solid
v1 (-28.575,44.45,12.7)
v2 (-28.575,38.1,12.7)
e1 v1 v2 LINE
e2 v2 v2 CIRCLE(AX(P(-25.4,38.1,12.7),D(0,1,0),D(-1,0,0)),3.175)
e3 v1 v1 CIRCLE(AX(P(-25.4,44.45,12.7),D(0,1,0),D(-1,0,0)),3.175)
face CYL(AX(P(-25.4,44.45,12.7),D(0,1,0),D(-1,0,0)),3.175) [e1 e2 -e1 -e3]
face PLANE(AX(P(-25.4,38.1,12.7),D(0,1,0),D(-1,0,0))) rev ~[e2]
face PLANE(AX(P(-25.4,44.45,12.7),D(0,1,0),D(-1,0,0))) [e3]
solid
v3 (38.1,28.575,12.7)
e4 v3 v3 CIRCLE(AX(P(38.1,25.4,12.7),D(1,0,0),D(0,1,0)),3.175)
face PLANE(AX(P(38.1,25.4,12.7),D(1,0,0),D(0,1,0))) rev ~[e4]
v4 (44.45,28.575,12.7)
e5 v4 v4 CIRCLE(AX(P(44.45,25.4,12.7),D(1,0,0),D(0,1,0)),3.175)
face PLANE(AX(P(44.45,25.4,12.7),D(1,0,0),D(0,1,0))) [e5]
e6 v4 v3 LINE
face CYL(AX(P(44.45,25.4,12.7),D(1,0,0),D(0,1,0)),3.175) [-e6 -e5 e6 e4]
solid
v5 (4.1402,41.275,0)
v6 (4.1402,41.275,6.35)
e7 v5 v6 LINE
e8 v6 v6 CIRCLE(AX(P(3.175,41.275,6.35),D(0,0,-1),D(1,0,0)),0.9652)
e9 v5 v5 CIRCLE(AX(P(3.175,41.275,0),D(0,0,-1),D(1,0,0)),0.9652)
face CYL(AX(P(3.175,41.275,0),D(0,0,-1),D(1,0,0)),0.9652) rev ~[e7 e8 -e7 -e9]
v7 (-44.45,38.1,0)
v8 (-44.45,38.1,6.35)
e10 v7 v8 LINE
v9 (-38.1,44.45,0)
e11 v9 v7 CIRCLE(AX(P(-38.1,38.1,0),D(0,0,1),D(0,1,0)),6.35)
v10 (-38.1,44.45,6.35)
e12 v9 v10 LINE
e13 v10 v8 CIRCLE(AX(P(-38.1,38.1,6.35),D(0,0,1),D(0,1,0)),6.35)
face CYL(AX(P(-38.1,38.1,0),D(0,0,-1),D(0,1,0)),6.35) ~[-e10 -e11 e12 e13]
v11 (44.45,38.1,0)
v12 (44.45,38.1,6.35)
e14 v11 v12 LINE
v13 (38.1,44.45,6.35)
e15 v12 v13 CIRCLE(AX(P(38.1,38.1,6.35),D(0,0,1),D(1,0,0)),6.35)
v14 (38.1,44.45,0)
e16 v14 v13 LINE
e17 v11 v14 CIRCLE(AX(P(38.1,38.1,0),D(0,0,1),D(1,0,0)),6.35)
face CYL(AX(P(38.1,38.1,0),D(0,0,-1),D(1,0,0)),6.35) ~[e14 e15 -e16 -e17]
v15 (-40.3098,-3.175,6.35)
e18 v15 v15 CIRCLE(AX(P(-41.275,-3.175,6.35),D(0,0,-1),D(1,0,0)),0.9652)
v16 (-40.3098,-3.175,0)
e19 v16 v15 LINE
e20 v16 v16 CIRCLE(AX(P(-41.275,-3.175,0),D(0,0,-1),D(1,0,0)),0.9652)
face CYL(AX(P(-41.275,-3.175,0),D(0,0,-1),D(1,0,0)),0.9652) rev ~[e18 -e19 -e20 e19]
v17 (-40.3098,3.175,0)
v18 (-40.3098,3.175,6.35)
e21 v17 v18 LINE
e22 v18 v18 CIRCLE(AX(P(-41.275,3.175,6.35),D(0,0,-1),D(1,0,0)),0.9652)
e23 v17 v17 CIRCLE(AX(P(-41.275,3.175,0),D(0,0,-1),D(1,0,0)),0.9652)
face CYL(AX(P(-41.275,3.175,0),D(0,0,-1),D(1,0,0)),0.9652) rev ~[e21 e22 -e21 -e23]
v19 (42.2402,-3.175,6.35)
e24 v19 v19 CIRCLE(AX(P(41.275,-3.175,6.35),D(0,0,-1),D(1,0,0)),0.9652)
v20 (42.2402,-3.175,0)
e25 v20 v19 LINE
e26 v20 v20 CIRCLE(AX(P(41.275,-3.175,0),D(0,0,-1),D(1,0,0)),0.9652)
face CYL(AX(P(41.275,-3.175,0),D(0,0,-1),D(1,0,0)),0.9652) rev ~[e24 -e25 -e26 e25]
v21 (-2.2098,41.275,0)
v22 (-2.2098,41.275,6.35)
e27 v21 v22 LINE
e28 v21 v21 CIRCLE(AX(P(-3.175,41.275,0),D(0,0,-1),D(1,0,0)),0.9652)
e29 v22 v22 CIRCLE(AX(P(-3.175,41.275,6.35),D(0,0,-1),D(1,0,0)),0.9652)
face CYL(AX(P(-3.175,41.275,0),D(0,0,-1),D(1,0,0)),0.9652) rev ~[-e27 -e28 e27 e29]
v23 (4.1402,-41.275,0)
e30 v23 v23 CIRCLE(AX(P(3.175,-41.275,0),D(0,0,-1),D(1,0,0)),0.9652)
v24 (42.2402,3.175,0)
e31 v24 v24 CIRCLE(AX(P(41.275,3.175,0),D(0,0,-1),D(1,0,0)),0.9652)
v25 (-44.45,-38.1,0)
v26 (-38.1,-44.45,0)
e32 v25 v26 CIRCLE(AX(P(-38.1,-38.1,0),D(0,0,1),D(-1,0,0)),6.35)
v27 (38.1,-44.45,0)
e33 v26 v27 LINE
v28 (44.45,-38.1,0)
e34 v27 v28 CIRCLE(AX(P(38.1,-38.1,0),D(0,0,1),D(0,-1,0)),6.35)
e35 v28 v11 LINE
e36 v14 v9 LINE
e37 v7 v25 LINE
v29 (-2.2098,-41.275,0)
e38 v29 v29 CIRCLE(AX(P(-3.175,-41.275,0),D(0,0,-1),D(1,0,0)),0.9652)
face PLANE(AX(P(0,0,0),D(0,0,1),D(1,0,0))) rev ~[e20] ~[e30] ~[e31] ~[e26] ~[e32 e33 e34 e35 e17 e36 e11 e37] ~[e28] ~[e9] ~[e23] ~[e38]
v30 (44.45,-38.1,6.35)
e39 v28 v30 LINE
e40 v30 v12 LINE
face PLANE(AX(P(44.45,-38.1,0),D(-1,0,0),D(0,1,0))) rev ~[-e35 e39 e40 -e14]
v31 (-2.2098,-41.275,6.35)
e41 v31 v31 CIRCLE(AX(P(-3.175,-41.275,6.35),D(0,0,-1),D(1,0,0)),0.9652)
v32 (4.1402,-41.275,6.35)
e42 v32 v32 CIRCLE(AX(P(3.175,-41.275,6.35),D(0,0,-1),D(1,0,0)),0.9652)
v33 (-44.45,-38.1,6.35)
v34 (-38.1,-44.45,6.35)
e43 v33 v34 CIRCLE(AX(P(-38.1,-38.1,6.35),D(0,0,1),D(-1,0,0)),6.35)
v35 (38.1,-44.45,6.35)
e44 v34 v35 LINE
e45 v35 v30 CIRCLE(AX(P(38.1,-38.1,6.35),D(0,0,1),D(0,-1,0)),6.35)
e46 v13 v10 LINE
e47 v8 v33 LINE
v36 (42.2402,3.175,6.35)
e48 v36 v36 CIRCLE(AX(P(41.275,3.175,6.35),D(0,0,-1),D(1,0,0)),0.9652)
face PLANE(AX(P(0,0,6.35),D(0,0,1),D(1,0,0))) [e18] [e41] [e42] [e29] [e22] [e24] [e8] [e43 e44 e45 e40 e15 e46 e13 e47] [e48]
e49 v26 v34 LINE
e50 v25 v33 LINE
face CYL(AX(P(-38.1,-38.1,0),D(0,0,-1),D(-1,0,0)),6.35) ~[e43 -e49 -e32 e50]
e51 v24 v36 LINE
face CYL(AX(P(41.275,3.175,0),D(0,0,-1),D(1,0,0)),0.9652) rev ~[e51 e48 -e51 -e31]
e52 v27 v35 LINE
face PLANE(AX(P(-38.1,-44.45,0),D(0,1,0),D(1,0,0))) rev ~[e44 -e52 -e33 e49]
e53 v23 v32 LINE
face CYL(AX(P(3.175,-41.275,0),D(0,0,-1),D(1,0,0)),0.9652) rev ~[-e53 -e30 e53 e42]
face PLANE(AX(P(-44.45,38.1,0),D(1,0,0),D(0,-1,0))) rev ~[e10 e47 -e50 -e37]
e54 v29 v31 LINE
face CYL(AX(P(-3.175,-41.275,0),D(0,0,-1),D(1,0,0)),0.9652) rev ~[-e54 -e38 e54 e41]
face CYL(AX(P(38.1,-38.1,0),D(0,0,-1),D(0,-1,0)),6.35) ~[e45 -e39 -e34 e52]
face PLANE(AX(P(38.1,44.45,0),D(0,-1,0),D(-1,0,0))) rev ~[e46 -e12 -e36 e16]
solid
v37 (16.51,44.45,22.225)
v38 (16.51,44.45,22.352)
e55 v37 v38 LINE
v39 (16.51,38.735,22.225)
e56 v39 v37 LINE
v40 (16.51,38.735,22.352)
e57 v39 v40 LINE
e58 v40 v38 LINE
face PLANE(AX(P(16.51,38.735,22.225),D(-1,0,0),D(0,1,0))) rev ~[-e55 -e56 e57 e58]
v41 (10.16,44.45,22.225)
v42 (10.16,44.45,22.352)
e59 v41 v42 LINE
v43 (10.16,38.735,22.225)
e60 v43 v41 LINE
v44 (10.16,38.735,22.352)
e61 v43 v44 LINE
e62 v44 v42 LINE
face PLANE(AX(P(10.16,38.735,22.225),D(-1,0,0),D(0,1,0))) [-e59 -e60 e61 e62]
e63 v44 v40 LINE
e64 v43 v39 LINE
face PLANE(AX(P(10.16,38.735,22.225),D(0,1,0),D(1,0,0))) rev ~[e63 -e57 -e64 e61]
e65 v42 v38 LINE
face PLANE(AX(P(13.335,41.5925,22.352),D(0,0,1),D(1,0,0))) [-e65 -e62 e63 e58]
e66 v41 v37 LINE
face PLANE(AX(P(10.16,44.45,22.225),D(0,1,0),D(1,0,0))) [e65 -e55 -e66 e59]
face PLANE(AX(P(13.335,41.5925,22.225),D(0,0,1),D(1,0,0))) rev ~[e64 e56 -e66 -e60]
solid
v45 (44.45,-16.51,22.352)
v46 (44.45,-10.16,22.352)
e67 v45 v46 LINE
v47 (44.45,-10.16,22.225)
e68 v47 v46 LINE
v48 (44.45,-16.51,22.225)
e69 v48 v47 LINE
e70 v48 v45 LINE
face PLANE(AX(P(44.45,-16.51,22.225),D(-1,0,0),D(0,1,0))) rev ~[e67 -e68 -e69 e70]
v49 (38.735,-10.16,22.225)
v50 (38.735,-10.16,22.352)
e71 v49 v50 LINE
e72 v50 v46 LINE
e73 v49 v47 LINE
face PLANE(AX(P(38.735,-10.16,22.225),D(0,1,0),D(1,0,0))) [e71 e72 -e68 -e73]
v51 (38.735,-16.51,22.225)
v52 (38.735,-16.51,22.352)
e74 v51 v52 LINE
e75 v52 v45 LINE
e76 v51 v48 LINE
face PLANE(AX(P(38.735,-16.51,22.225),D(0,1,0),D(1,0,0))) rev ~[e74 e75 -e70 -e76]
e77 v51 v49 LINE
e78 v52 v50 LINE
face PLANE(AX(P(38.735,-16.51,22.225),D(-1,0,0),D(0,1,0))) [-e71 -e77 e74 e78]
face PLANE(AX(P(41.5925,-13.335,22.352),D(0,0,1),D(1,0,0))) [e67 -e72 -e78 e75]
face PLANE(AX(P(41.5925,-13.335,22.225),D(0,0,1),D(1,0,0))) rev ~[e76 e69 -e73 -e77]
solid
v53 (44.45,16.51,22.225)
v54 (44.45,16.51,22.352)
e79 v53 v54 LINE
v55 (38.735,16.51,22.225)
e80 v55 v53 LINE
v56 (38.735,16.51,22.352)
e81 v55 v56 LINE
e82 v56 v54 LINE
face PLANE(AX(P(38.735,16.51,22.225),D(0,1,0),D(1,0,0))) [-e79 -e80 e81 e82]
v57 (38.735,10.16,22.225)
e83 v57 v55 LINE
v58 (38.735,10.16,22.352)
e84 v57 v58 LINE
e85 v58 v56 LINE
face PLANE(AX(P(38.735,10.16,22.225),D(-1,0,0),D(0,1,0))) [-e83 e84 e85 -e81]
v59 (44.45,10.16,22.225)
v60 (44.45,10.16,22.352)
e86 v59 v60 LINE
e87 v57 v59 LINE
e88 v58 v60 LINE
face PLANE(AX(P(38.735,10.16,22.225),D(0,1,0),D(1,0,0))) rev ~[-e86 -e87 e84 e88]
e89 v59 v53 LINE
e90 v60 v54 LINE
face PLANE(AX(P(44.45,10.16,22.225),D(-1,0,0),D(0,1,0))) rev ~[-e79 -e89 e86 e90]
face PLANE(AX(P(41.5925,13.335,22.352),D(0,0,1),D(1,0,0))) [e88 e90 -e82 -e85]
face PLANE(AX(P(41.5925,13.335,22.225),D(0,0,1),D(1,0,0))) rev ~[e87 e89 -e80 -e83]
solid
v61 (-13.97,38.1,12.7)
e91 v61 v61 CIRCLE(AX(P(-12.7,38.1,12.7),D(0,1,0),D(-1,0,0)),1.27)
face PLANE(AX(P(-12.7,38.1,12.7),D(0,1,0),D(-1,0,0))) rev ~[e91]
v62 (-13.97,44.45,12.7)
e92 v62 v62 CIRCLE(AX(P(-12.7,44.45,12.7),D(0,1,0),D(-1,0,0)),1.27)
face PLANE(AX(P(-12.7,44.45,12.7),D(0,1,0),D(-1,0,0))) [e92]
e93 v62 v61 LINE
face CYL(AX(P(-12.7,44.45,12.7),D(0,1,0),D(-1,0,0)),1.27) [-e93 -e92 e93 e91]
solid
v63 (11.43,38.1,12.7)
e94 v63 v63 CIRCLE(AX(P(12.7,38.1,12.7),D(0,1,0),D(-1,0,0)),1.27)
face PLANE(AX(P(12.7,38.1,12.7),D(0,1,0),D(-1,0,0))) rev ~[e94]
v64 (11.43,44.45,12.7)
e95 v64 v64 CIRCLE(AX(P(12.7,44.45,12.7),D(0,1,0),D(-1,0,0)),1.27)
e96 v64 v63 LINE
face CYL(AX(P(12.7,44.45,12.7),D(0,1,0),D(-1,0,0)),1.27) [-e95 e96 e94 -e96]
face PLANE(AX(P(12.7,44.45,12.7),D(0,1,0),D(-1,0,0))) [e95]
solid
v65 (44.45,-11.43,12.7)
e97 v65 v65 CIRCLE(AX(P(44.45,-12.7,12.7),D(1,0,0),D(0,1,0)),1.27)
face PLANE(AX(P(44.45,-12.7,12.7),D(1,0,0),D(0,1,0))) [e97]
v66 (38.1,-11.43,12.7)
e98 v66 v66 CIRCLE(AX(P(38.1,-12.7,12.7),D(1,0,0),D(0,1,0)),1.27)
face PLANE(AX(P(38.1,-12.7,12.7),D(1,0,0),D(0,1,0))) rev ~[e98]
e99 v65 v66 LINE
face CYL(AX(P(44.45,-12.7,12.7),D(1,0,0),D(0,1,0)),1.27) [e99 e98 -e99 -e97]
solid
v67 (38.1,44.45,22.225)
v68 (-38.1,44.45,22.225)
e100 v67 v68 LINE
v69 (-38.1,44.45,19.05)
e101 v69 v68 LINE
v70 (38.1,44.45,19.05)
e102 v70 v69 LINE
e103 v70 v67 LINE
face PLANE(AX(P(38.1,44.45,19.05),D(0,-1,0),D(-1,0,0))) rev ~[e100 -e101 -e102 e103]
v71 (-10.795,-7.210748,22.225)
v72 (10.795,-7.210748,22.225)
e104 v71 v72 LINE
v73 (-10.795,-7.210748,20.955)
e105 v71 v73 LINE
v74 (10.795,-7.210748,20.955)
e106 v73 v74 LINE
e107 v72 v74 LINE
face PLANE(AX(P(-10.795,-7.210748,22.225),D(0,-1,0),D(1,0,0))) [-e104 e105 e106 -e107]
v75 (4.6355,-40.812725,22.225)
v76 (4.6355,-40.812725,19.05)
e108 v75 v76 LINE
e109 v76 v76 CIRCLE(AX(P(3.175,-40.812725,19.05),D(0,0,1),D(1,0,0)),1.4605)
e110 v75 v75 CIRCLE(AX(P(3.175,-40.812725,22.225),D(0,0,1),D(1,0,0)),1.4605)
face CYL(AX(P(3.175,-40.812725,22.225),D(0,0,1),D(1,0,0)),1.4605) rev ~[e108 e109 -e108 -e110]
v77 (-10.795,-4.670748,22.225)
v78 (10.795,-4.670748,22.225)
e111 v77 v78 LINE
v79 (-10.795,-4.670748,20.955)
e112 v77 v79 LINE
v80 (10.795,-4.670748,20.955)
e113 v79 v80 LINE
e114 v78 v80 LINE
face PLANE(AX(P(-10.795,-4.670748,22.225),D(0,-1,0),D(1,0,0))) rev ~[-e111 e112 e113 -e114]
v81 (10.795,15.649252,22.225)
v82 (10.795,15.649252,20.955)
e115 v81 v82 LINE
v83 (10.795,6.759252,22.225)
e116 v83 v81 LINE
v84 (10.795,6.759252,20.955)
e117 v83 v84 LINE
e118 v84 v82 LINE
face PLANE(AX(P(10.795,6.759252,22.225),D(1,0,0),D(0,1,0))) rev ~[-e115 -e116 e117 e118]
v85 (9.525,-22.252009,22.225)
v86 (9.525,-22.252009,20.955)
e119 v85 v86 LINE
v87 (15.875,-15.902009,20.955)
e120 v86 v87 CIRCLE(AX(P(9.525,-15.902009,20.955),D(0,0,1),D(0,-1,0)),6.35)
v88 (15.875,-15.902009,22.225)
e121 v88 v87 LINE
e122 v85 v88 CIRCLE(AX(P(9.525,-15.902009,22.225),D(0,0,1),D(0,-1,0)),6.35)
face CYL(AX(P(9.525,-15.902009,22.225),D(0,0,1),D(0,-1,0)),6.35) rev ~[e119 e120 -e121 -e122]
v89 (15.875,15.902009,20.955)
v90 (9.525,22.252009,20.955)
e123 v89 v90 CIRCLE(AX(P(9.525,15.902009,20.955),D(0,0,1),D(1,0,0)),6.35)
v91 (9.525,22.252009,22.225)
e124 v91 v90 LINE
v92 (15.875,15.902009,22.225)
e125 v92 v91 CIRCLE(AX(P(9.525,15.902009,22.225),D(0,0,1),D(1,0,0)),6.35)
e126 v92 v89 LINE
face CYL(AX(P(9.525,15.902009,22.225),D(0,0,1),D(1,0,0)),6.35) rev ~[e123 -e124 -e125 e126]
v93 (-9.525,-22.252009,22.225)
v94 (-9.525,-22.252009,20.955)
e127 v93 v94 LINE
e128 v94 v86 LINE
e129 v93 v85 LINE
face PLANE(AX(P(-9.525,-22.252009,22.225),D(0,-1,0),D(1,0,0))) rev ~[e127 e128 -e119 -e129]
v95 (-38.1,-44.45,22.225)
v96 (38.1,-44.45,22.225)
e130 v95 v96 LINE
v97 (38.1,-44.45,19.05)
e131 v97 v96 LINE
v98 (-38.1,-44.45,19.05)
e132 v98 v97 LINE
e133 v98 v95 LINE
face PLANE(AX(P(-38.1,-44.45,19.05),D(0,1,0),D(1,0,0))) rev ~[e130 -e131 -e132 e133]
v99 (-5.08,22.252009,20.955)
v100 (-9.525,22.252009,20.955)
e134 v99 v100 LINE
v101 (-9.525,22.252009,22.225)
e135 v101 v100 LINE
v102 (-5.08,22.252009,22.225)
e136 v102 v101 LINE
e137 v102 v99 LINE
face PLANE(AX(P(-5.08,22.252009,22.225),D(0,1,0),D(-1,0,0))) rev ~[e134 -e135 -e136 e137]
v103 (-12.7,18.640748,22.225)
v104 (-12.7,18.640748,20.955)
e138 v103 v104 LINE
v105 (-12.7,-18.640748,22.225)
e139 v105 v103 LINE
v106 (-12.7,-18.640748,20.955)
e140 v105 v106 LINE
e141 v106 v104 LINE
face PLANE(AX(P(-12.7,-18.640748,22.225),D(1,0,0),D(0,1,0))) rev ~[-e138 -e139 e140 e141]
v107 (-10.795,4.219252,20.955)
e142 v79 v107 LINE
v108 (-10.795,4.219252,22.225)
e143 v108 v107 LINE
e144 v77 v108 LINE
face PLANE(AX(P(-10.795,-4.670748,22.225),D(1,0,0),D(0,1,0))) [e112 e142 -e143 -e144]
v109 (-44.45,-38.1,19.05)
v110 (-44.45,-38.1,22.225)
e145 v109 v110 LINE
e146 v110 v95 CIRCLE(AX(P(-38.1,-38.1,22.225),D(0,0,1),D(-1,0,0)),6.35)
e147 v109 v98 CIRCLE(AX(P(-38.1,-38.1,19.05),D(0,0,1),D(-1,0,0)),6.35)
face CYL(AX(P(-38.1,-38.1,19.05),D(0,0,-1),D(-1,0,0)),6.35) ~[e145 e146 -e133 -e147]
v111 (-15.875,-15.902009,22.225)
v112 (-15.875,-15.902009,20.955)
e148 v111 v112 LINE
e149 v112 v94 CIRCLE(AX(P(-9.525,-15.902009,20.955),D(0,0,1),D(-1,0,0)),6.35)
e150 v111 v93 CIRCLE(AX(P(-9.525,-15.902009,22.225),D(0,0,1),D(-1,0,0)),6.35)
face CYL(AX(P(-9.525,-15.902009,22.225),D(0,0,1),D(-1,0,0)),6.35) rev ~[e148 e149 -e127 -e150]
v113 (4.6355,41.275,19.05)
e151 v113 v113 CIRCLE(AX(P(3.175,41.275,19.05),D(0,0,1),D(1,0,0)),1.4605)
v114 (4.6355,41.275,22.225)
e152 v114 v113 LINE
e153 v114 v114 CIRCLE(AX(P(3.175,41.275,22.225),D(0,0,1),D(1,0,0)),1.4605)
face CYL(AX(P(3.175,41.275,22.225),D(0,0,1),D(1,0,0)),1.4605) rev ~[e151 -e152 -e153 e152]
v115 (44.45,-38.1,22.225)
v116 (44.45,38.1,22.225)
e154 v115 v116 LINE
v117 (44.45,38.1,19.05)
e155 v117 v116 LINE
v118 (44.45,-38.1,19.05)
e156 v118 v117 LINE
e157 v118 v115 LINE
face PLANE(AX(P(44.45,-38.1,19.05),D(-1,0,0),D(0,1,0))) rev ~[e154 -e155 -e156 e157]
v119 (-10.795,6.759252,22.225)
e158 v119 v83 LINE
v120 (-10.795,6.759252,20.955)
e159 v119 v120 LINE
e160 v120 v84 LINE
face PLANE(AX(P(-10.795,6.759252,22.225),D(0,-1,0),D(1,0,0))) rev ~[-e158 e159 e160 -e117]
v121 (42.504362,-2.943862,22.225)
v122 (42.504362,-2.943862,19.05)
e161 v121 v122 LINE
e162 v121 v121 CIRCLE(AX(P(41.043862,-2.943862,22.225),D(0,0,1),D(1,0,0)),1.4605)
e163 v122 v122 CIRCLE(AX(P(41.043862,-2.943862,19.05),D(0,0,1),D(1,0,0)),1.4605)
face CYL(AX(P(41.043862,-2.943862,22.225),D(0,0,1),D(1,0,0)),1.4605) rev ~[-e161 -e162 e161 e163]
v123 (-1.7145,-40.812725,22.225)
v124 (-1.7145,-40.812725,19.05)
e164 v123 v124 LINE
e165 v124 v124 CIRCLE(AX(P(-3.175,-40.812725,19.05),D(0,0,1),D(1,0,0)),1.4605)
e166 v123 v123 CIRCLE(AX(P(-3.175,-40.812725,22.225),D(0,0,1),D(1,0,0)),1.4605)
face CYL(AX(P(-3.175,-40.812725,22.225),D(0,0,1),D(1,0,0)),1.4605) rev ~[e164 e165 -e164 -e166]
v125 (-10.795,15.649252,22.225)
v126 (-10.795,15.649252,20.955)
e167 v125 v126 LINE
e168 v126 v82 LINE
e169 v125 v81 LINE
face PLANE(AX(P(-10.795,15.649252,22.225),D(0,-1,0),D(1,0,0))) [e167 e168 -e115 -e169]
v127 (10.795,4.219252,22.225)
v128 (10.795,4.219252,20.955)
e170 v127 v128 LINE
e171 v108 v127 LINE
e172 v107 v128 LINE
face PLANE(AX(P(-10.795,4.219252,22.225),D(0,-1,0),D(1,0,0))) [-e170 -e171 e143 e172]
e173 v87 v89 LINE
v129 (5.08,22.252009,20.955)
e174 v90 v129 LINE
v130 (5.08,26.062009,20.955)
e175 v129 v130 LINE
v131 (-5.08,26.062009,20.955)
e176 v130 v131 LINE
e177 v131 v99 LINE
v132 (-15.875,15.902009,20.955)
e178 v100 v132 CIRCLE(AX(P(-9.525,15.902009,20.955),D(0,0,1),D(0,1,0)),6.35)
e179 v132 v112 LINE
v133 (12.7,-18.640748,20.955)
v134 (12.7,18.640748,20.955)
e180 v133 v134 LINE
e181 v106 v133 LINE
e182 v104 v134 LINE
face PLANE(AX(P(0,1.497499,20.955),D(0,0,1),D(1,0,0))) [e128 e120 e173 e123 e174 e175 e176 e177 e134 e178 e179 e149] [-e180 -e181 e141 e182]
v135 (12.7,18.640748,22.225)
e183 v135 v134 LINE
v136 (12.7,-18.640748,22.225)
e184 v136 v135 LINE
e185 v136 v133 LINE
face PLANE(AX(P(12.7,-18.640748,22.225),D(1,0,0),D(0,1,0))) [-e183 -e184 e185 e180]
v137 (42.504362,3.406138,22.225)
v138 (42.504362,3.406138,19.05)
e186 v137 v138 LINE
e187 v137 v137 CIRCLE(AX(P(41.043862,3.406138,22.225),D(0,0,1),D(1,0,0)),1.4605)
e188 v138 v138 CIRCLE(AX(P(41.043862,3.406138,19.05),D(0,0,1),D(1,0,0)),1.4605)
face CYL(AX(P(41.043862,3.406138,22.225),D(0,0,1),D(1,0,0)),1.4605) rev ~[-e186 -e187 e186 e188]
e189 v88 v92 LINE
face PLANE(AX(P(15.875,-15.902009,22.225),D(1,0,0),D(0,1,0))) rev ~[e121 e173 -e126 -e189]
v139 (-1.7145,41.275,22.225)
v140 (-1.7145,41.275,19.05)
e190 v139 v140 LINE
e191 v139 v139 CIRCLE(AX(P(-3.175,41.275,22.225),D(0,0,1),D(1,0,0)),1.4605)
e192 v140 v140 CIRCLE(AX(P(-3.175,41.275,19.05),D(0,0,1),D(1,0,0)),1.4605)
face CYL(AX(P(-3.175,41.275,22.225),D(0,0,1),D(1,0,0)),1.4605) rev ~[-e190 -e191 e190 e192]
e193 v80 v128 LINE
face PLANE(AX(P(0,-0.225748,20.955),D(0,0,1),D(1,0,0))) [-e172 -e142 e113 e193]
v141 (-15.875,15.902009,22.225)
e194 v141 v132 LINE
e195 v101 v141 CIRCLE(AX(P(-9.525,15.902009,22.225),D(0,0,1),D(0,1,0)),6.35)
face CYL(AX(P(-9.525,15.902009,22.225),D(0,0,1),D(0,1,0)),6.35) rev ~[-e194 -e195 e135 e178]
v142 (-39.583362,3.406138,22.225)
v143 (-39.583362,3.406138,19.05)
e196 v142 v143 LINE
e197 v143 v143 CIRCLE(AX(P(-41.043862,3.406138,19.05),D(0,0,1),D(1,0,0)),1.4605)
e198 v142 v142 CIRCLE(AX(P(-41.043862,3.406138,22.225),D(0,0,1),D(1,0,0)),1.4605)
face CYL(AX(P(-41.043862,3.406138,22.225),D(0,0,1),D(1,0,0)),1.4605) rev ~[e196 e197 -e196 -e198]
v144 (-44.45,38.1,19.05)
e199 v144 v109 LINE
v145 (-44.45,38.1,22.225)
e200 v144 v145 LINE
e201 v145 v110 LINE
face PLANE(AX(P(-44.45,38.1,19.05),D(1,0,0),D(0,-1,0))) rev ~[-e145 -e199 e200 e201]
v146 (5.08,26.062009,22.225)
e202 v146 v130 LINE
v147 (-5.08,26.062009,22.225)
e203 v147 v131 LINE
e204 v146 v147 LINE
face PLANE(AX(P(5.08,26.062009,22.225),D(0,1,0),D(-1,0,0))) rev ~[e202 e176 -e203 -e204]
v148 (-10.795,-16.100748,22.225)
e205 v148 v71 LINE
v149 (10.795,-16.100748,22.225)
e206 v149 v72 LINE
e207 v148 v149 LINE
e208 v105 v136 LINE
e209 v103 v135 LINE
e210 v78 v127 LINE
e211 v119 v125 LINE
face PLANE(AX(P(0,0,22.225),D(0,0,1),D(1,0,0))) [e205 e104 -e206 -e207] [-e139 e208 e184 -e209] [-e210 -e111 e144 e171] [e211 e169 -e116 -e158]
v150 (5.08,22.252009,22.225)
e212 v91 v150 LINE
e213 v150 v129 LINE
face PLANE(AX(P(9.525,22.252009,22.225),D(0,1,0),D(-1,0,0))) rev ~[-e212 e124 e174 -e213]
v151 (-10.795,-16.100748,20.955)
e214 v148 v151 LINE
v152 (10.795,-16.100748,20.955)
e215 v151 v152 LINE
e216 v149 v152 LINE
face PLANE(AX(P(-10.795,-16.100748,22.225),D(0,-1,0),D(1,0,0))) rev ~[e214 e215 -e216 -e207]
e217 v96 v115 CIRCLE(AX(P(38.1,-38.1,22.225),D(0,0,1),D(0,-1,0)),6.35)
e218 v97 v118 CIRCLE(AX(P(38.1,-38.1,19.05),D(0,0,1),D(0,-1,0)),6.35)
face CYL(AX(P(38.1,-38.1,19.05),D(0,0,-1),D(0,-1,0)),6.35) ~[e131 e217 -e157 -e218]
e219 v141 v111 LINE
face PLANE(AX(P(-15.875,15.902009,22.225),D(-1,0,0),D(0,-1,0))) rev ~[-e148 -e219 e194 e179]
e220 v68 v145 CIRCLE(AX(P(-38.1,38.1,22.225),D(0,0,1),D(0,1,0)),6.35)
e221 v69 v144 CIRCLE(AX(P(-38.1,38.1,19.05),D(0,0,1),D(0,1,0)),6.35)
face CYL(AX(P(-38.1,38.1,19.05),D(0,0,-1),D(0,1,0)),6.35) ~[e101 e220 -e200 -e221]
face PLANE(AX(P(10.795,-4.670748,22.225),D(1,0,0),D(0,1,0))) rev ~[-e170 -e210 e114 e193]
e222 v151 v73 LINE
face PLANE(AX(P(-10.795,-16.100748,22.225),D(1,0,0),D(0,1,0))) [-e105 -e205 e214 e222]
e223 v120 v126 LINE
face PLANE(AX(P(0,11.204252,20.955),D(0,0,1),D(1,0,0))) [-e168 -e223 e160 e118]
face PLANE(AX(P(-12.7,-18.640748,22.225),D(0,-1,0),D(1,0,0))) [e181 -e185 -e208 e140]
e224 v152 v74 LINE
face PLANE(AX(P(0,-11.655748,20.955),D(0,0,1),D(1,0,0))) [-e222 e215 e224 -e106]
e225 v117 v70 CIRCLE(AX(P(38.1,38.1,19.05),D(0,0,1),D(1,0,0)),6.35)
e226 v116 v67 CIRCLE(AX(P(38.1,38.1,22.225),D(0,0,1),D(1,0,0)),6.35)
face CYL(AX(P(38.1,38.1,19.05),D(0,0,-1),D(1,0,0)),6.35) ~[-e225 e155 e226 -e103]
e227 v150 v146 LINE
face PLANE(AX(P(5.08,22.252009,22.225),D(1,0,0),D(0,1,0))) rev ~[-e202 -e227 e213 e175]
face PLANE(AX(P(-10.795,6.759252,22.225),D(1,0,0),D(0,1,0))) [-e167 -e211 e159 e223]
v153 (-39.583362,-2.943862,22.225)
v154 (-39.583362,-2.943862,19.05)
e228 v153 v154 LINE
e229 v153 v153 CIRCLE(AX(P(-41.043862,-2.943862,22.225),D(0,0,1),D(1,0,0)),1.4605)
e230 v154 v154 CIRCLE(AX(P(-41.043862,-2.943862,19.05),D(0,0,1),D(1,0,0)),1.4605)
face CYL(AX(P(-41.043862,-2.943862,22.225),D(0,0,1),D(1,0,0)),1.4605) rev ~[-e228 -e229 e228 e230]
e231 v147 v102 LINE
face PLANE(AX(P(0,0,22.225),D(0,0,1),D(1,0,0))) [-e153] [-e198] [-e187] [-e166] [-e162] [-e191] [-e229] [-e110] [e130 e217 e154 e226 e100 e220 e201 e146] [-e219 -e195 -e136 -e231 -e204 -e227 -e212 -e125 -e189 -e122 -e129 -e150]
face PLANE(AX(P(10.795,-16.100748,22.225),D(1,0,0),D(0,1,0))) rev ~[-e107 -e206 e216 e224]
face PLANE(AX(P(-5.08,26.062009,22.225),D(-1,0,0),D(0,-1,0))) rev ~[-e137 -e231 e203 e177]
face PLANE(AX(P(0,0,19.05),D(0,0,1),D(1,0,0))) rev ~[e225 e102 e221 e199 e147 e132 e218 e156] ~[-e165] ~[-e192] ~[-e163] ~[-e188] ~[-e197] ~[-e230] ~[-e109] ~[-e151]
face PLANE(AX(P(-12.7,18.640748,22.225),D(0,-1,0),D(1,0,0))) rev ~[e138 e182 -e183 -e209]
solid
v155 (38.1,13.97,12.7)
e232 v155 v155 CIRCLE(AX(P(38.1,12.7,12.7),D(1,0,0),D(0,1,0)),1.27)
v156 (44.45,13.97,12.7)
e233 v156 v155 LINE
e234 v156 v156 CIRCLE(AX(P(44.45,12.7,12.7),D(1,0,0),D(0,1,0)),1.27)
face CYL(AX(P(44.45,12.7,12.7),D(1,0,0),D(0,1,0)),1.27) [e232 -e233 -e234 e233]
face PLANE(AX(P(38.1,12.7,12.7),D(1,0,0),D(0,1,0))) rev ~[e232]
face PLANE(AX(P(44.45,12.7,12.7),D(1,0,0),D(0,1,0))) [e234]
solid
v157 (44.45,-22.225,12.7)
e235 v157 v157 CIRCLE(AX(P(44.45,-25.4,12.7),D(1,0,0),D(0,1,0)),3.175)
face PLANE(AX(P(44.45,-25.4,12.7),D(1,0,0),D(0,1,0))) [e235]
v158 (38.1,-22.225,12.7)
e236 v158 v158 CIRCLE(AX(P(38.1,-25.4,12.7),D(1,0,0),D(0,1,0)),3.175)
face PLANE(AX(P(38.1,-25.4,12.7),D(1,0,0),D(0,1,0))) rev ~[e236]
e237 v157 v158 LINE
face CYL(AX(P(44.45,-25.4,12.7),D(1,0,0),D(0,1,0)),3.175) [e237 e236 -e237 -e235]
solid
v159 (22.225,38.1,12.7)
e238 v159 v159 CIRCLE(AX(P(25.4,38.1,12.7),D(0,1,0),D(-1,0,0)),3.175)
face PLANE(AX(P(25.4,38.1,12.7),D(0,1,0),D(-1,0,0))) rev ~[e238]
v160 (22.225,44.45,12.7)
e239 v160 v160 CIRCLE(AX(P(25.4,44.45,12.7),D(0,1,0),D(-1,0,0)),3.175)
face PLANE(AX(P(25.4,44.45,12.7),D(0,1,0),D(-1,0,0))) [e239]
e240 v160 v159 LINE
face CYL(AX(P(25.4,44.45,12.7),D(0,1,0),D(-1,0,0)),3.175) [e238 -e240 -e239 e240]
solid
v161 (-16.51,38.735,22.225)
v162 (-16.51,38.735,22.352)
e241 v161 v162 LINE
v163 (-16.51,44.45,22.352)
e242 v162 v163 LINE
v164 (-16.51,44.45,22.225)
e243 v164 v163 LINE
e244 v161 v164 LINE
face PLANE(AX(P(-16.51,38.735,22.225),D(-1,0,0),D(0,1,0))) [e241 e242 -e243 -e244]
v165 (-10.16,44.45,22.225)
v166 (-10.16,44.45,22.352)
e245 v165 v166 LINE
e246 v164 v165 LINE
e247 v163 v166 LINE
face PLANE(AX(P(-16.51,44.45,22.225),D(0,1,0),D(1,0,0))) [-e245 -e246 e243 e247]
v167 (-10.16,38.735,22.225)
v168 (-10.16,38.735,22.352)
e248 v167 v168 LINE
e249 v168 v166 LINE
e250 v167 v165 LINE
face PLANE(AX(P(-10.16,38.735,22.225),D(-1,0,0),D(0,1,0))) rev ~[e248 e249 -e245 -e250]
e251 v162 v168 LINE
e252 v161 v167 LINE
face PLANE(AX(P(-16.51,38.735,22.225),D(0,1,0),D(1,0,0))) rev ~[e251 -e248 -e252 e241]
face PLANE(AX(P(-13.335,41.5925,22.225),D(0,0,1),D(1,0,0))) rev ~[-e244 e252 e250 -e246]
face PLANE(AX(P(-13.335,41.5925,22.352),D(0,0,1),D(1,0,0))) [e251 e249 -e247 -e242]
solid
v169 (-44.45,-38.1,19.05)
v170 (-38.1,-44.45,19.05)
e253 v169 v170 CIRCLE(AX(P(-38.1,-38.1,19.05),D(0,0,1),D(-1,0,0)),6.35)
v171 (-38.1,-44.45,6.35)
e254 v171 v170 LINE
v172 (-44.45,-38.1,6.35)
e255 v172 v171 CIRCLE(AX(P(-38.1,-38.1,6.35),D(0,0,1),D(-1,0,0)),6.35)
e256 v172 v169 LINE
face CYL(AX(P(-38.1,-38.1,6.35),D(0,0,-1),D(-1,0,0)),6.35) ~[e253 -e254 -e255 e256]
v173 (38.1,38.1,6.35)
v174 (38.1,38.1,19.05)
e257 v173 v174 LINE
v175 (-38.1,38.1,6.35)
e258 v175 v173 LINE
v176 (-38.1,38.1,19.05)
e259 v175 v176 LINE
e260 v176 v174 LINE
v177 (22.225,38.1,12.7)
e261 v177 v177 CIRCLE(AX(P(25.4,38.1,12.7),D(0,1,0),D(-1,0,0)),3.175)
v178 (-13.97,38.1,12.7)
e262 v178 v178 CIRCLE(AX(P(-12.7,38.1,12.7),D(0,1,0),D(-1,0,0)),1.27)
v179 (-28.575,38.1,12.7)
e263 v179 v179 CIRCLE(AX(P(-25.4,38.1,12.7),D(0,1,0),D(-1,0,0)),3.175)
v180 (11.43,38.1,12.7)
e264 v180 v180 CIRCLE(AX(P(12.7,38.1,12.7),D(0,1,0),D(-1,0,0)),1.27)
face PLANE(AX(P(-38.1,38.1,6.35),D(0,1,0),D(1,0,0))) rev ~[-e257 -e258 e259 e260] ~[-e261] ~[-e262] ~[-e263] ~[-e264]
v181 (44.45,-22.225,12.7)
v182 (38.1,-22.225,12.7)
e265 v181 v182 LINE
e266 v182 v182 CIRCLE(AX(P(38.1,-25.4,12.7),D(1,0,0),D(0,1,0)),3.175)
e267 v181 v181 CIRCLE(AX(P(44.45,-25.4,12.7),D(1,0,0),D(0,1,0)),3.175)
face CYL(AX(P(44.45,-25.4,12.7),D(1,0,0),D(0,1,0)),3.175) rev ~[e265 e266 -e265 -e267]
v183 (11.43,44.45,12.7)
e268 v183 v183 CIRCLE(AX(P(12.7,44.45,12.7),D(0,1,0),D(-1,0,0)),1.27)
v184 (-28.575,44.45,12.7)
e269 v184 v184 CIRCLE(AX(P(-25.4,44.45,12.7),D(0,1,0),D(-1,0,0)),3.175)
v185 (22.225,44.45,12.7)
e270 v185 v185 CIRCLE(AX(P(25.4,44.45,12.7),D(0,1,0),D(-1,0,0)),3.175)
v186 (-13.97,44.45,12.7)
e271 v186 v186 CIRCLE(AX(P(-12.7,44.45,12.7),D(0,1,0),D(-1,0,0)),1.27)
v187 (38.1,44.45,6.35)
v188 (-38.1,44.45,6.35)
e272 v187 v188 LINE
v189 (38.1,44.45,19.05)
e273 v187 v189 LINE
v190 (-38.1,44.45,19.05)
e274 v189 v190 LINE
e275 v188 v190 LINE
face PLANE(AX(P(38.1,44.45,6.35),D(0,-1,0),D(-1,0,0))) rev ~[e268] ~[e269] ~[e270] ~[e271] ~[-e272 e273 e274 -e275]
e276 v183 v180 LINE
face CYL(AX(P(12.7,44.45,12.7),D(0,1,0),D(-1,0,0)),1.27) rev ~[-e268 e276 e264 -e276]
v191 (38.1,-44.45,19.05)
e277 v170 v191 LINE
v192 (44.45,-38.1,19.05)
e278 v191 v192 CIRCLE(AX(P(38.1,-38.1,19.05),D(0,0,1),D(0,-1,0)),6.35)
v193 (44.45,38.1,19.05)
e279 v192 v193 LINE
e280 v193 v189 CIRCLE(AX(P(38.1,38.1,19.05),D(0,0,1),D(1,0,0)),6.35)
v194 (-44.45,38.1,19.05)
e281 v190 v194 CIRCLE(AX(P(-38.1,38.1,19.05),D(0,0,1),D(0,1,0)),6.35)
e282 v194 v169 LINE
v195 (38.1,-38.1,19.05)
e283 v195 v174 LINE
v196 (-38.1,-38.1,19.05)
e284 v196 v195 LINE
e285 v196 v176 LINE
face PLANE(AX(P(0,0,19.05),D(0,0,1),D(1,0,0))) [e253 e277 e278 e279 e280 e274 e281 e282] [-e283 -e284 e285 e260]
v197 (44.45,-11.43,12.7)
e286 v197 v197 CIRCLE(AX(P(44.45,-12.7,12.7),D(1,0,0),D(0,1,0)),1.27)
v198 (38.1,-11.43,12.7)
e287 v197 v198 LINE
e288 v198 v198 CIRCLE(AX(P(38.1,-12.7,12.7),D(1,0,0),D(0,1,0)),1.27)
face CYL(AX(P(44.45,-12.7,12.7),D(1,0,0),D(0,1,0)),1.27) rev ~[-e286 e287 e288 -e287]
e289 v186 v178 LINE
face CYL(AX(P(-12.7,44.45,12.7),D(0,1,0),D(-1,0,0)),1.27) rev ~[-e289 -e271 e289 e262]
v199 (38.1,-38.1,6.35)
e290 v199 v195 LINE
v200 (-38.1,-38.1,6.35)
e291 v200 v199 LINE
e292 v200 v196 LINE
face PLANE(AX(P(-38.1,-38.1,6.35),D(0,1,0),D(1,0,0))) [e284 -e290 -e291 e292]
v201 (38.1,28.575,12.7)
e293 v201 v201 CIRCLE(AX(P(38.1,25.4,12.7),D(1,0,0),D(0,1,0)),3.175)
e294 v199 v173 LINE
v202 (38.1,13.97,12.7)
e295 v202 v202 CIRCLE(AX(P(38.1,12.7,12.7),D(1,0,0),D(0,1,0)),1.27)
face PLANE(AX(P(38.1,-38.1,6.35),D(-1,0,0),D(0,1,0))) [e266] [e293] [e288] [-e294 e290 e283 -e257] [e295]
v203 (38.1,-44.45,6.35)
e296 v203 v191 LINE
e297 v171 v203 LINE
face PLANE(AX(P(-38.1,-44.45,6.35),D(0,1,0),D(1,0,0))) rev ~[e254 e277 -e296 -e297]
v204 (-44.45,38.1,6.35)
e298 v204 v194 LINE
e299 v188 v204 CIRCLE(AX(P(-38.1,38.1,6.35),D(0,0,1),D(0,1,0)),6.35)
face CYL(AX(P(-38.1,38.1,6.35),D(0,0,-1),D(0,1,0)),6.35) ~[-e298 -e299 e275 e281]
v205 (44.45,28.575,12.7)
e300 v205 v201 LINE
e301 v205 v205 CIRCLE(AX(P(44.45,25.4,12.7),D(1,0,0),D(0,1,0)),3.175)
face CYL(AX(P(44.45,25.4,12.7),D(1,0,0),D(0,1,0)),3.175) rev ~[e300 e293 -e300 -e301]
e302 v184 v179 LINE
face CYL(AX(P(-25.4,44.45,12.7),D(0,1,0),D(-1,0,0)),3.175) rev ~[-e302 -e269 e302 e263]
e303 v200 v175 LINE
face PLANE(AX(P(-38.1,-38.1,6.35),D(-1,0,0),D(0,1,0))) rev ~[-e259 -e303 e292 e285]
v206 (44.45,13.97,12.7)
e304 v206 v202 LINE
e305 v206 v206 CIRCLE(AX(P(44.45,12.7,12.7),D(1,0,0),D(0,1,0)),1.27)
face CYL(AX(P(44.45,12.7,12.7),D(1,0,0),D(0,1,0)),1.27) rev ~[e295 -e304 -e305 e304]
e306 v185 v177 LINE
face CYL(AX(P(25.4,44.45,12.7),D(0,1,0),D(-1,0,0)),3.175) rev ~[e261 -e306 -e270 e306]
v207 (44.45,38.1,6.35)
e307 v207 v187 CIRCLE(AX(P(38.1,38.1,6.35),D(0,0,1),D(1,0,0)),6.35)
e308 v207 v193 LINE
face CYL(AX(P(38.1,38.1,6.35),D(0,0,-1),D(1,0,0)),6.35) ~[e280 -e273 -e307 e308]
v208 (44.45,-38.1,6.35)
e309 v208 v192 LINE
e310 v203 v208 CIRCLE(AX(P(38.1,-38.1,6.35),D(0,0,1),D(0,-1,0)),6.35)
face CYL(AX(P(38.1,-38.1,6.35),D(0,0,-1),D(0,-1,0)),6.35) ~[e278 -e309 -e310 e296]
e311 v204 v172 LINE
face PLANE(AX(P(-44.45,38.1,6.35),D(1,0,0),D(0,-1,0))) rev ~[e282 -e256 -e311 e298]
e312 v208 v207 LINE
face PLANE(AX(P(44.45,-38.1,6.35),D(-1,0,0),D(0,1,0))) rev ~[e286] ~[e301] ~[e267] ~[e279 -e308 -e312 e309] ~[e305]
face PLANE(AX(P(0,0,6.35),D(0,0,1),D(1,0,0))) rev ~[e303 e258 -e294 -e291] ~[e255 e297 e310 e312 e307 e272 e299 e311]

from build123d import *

# Parameters (mm, degrees)
F1_DEPTH  = 6.35
F2_W      = 76.2
F2_H      = 76.2
F3_DEPTH  = 12.7
F4_R      = 3.175
F5_DEPTH  = 25.4
F6_R      = 3.175
F6_R_2    = 1.27
F7_DEPTH  = 25.4
F9_DEPTH  = 3.175
F10_R     = 1.4605
F11_DEPTH = 15.875
F12_R     = 0.9652
F13_DEPTH = 6.35
F14_R     = 1.27
F15_DEPTH = 25.4
F16_W     = 25.4
F16_H     = 37.2814961416
F16_W_2   = 21.59
F16_H_2   = 8.89
F17_DEPTH = 1.27
F18_R     = 3.175
F19_DEPTH = 6.35
F18_R_2   = 1.27
F20_R     = 3.175
F21_DEPTH = 6.35
F20_R_2   = 1.27
F22_W     = 5.715
F22_H     = 6.35
F23_DEPTH = 0.127
F22_W_2   = 6.35
F22_H_2   = 5.715


with BuildPart() as f1:
    # F0 (on Top) → F1 (new body)
    with BuildSketch(Plane.XY):
        with BuildLine():
            Line((38.1, 44.45), (-38.1, 44.45))
            ThreePointArc((-38.1, 44.45), (-42.5901280605, 42.5901280605), (-44.45, 38.1))
            Line((-44.45, 38.1), (-44.45, -38.1))
            ThreePointArc((-44.45, -38.1), (-42.5901280605, -42.5901280605), (-38.1, -44.45))
            Line((-38.1, -44.45), (38.1, -44.45))
            ThreePointArc((38.1, -44.45), (42.5901280605, -42.5901280605), (44.45, -38.1))
            Line((44.45, -38.1), (44.45, 38.1))
            ThreePointArc((44.45, 38.1), (42.5901280605, 42.5901280605), (38.1, 44.45))
        make_face()
    extrude(amount=F1_DEPTH)

    # F12 (on face) → F13 (cut)
    with BuildSketch(Plane(origin=(0, 0, 0), x_dir=(1, 0, 0), z_dir=(0, 0, -1))):
        with Locations((3.175, -41.275)):
            Circle(F12_R)
        with Locations((-3.175, -41.275)):
            Circle(F12_R)
        with Locations((41.275, 3.175)):
            Circle(F12_R)
        with Locations((41.275, -3.175)):
            Circle(F12_R)
        with Locations((-3.175, 41.275)):
            Circle(F12_R)
        with Locations((3.175, 41.275)):
            Circle(F12_R)
        with Locations((-41.275, -3.175)):
            Circle(F12_R)
        with Locations((-41.275, 3.175)):
            Circle(F12_R)
    extrude(amount=-F13_DEPTH, mode=Mode.SUBTRACT)


with BuildPart() as f3:
    # F2 (on face) → F3 (new body)
    with BuildSketch(Plane.XY.offset(6.35)):
        with BuildLine():
            Line((38.1, 44.45), (-38.1, 44.45))
            ThreePointArc((-38.1, 44.45), (-42.5901280605, 42.5901280605), (-44.45, 38.1))
            Line((-44.45, 38.1), (-44.45, -38.1))
            ThreePointArc((-44.45, -38.1), (-42.5901280605, -42.5901280605), (-38.1, -44.45))
            Line((-38.1, -44.45), (38.1, -44.45))
            ThreePointArc((38.1, -44.45), (42.5901280605, -42.5901280605), (44.45, -38.1))
            Line((44.45, -38.1), (44.45, 38.1))
            ThreePointArc((44.45, 38.1), (42.5901280605, 42.5901280605), (38.1, 44.45))
        make_face()
        Rectangle(F2_W, F2_H, mode=Mode.SUBTRACT)
    extrude(amount=F3_DEPTH)

    # F4 (on face) → F5 (cut)
    with BuildSketch(Plane.YZ.offset(44.45)):
        with Locations((25.4, 12.7)):
            Circle(F4_R)
        with Locations((-25.4, 12.7)):
            Circle(F4_R)
    extrude(amount=-F5_DEPTH, mode=Mode.SUBTRACT)

    # F6 (on face) → F7 (cut)
    with BuildSketch(Plane(origin=(0, 44.45, 0), x_dir=(-1, 0, 0), z_dir=(0, 1, 0))):
        with Locations((25.4, 12.7)):
            Circle(F6_R)
        with Locations((-25.4, 12.7)):
            Circle(F6_R)
        with Locations((12.7, 12.7)):
            Circle(F6_R_2)
        with Locations((-12.7, 12.7)):
            Circle(F6_R_2)
    extrude(amount=-F7_DEPTH, mode=Mode.SUBTRACT)

    # F14 (on face) → F15 (cut)
    with BuildSketch(Plane.YZ.offset(44.45)):
        with Locations((-12.7, 12.7)):
            Circle(F14_R)
        with Locations((12.7, 12.7)):
            Circle(F14_R)
    extrude(amount=-F15_DEPTH, mode=Mode.SUBTRACT)


with BuildPart() as f9:
    # F8 (on face) → F9 (new body)
    with BuildSketch(Plane.XY.offset(19.05)):
        with BuildLine():
            Line((38.1, 44.45), (-38.1, 44.45))
            ThreePointArc((-38.1, 44.45), (-42.5901280605, 42.5901280605), (-44.45, 38.1))
            Line((-44.45, 38.1), (-44.45, -38.1))
            ThreePointArc((-44.45, -38.1), (-42.5901280605, -42.5901280605), (-38.1, -44.45))
            Line((-38.1, -44.45), (38.1, -44.45))
            ThreePointArc((38.1, -44.45), (42.5901280605, -42.5901280605), (44.45, -38.1))
            Line((44.45, -38.1), (44.45, 38.1))
            ThreePointArc((44.45, 38.1), (42.5901280605, 42.5901280605), (38.1, 44.45))
        make_face()
    extrude(amount=F9_DEPTH)

    # F10 (on face) → F11 (cut)
    with BuildSketch(Plane.XY.offset(22.225)):
        with Locations((-3.175, 41.275)):
            Circle(F10_R)
        with Locations((3.175, 41.275)):
            Circle(F10_R)
        with Locations((-41.0438623011, -2.9438623011)):
            Circle(F10_R)
        with Locations((-41.0438623011, 3.4061376989)):
            Circle(F10_R)
        with Locations((3.175, -40.8127246022)):
            Circle(F10_R)
        with Locations((-3.175, -40.8127246022)):
            Circle(F10_R)
        with Locations((41.0438623011, 3.4061376989)):
            Circle(F10_R)
        with Locations((41.0438623011, -2.9438623011)):
            Circle(F10_R)
    extrude(amount=-F11_DEPTH, mode=Mode.SUBTRACT)

    # F16 (on face) → F17 (cut)
    with BuildSketch(Plane.XY.offset(22.225)):
        with BuildLine():
            Line((-5.08, 22.2520089364), (-9.525, 22.2520089364))
            ThreePointArc((-9.525, 22.2520089364), (-14.0151280605, 20.392136997), (-15.875, 15.9020089364))
            Line((-15.875, 15.9020089364), (-15.875, -15.9020089364))
            ThreePointArc((-15.875, -15.9020089364), (-14.0151280605, -20.392136997), (-9.525, -22.2520089364))
            Line((-9.525, -22.2520089364), (9.525, -22.2520089364))
            ThreePointArc((9.525, -22.2520089364), (14.0151280605, -20.392136997), (15.875, -15.9020089364))
            Line((15.875, -15.9020089364), (15.875, 15.9020089364))
            ThreePointArc((15.875, 15.9020089364), (14.0151280605, 20.392136997), (9.525, 22.2520089364))
            Line((9.525, 22.2520089364), (5.08, 22.2520089364))
            Line((5.08, 22.2520089364), (5.08, 26.0620089364))
            Line((5.08, 26.0620089364), (-5.08, 26.0620089364))
            Line((-5.08, 26.0620089364), (-5.08, 22.2520089364))
        make_face()
        Rectangle(F16_W, F16_H, mode=Mode.SUBTRACT)
        with Locations((0, 11.2042519292)):
            Rectangle(F16_W_2, F16_H_2)
        with Locations((0, -0.2257480708)):
            Rectangle(F16_W_2, F16_H_2)
        with Locations((0, -11.6557480708)):
            Rectangle(F16_W_2, F16_H_2)
    extrude(amount=-F17_DEPTH, mode=Mode.SUBTRACT)


with BuildPart() as f19:
    # F18 (on face) → F19 (new body)
    with BuildSketch(Plane.YZ.offset(44.45)):
        with Locations((25.4, 12.7)):
            Circle(F18_R)
    extrude(amount=-F19_DEPTH)


with BuildPart() as f19b:
    # F18 (on face) → F19, piece 2 (new body)
    with BuildSketch(Plane.YZ.offset(44.45)):
        with Locations((-25.4, 12.7)):
            Circle(F18_R)
    extrude(amount=-F19_DEPTH)


with BuildPart() as f19c:
    # F18 (on face) → F19, piece 3 (new body)
    with BuildSketch(Plane.YZ.offset(44.45)):
        with Locations((-12.7, 12.7)):
            Circle(F18_R_2)
    extrude(amount=-F19_DEPTH)


with BuildPart() as f19d:
    # F18 (on face) → F19, piece 4 (new body)
    with BuildSketch(Plane.YZ.offset(44.45)):
        with Locations((12.7, 12.7)):
            Circle(F18_R_2)
    extrude(amount=-F19_DEPTH)


with BuildPart() as f21:
    # F20 (on face) → F21 (new body)
    with BuildSketch(Plane(origin=(0, 44.45, 0), x_dir=(-1, 0, 0), z_dir=(0, 1, 0))):
        with Locations((25.4, 12.7)):
            Circle(F20_R)
    extrude(amount=-F21_DEPTH)


with BuildPart() as f21b:
    # F20 (on face) → F21, piece 2 (new body)
    with BuildSketch(Plane(origin=(0, 44.45, 0), x_dir=(-1, 0, 0), z_dir=(0, 1, 0))):
        with Locations((12.7, 12.7)):
            Circle(F20_R_2)
    extrude(amount=-F21_DEPTH)


with BuildPart() as f21c:
    # F20 (on face) → F21, piece 3 (new body)
    with BuildSketch(Plane(origin=(0, 44.45, 0), x_dir=(-1, 0, 0), z_dir=(0, 1, 0))):
        with Locations((-12.7, 12.7)):
            Circle(F20_R_2)
    extrude(amount=-F21_DEPTH)


with BuildPart() as f21d:
    # F20 (on face) → F21, piece 4 (new body)
    with BuildSketch(Plane(origin=(0, 44.45, 0), x_dir=(-1, 0, 0), z_dir=(0, 1, 0))):
        with Locations((-25.4, 12.7)):
            Circle(F20_R)
    extrude(amount=-F21_DEPTH)


with BuildPart() as f23:
    # F22 (on face) → F23 (new body)
    with BuildSketch(Plane.XY.offset(22.225)):
        with Locations((41.5925, 13.335)):
            Rectangle(F22_W, F22_H)
    extrude(amount=F23_DEPTH)


with BuildPart() as f23b:
    # F22 (on face) → F23, piece 2 (new body)
    with BuildSketch(Plane.XY.offset(22.225)):
        with Locations((41.5925, -13.335)):
            Rectangle(F22_W, F22_H)
    extrude(amount=F23_DEPTH)


with BuildPart() as f23c:
    # F22 (on face) → F23, piece 3 (new body)
    with BuildSketch(Plane.XY.offset(22.225)):
        with Locations((-13.335, 41.5925)):
            Rectangle(F22_W_2, F22_H_2)
    extrude(amount=F23_DEPTH)


with BuildPart() as f23d:
    # F22 (on face) → F23, piece 4 (new body)
    with BuildSketch(Plane.XY.offset(22.225)):
        with Locations((13.335, 41.5925)):
            Rectangle(F22_W_2, F22_H_2)
    extrude(amount=F23_DEPTH)


solid = Compound([f1.part, f3.part, f9.part, f19.part, f19b.part, f19c.part, f19d.part, f21.part, f21b.part, f21c.part, f21d.part, f23.part, f23b.part, f23c.part, f23d.part])
